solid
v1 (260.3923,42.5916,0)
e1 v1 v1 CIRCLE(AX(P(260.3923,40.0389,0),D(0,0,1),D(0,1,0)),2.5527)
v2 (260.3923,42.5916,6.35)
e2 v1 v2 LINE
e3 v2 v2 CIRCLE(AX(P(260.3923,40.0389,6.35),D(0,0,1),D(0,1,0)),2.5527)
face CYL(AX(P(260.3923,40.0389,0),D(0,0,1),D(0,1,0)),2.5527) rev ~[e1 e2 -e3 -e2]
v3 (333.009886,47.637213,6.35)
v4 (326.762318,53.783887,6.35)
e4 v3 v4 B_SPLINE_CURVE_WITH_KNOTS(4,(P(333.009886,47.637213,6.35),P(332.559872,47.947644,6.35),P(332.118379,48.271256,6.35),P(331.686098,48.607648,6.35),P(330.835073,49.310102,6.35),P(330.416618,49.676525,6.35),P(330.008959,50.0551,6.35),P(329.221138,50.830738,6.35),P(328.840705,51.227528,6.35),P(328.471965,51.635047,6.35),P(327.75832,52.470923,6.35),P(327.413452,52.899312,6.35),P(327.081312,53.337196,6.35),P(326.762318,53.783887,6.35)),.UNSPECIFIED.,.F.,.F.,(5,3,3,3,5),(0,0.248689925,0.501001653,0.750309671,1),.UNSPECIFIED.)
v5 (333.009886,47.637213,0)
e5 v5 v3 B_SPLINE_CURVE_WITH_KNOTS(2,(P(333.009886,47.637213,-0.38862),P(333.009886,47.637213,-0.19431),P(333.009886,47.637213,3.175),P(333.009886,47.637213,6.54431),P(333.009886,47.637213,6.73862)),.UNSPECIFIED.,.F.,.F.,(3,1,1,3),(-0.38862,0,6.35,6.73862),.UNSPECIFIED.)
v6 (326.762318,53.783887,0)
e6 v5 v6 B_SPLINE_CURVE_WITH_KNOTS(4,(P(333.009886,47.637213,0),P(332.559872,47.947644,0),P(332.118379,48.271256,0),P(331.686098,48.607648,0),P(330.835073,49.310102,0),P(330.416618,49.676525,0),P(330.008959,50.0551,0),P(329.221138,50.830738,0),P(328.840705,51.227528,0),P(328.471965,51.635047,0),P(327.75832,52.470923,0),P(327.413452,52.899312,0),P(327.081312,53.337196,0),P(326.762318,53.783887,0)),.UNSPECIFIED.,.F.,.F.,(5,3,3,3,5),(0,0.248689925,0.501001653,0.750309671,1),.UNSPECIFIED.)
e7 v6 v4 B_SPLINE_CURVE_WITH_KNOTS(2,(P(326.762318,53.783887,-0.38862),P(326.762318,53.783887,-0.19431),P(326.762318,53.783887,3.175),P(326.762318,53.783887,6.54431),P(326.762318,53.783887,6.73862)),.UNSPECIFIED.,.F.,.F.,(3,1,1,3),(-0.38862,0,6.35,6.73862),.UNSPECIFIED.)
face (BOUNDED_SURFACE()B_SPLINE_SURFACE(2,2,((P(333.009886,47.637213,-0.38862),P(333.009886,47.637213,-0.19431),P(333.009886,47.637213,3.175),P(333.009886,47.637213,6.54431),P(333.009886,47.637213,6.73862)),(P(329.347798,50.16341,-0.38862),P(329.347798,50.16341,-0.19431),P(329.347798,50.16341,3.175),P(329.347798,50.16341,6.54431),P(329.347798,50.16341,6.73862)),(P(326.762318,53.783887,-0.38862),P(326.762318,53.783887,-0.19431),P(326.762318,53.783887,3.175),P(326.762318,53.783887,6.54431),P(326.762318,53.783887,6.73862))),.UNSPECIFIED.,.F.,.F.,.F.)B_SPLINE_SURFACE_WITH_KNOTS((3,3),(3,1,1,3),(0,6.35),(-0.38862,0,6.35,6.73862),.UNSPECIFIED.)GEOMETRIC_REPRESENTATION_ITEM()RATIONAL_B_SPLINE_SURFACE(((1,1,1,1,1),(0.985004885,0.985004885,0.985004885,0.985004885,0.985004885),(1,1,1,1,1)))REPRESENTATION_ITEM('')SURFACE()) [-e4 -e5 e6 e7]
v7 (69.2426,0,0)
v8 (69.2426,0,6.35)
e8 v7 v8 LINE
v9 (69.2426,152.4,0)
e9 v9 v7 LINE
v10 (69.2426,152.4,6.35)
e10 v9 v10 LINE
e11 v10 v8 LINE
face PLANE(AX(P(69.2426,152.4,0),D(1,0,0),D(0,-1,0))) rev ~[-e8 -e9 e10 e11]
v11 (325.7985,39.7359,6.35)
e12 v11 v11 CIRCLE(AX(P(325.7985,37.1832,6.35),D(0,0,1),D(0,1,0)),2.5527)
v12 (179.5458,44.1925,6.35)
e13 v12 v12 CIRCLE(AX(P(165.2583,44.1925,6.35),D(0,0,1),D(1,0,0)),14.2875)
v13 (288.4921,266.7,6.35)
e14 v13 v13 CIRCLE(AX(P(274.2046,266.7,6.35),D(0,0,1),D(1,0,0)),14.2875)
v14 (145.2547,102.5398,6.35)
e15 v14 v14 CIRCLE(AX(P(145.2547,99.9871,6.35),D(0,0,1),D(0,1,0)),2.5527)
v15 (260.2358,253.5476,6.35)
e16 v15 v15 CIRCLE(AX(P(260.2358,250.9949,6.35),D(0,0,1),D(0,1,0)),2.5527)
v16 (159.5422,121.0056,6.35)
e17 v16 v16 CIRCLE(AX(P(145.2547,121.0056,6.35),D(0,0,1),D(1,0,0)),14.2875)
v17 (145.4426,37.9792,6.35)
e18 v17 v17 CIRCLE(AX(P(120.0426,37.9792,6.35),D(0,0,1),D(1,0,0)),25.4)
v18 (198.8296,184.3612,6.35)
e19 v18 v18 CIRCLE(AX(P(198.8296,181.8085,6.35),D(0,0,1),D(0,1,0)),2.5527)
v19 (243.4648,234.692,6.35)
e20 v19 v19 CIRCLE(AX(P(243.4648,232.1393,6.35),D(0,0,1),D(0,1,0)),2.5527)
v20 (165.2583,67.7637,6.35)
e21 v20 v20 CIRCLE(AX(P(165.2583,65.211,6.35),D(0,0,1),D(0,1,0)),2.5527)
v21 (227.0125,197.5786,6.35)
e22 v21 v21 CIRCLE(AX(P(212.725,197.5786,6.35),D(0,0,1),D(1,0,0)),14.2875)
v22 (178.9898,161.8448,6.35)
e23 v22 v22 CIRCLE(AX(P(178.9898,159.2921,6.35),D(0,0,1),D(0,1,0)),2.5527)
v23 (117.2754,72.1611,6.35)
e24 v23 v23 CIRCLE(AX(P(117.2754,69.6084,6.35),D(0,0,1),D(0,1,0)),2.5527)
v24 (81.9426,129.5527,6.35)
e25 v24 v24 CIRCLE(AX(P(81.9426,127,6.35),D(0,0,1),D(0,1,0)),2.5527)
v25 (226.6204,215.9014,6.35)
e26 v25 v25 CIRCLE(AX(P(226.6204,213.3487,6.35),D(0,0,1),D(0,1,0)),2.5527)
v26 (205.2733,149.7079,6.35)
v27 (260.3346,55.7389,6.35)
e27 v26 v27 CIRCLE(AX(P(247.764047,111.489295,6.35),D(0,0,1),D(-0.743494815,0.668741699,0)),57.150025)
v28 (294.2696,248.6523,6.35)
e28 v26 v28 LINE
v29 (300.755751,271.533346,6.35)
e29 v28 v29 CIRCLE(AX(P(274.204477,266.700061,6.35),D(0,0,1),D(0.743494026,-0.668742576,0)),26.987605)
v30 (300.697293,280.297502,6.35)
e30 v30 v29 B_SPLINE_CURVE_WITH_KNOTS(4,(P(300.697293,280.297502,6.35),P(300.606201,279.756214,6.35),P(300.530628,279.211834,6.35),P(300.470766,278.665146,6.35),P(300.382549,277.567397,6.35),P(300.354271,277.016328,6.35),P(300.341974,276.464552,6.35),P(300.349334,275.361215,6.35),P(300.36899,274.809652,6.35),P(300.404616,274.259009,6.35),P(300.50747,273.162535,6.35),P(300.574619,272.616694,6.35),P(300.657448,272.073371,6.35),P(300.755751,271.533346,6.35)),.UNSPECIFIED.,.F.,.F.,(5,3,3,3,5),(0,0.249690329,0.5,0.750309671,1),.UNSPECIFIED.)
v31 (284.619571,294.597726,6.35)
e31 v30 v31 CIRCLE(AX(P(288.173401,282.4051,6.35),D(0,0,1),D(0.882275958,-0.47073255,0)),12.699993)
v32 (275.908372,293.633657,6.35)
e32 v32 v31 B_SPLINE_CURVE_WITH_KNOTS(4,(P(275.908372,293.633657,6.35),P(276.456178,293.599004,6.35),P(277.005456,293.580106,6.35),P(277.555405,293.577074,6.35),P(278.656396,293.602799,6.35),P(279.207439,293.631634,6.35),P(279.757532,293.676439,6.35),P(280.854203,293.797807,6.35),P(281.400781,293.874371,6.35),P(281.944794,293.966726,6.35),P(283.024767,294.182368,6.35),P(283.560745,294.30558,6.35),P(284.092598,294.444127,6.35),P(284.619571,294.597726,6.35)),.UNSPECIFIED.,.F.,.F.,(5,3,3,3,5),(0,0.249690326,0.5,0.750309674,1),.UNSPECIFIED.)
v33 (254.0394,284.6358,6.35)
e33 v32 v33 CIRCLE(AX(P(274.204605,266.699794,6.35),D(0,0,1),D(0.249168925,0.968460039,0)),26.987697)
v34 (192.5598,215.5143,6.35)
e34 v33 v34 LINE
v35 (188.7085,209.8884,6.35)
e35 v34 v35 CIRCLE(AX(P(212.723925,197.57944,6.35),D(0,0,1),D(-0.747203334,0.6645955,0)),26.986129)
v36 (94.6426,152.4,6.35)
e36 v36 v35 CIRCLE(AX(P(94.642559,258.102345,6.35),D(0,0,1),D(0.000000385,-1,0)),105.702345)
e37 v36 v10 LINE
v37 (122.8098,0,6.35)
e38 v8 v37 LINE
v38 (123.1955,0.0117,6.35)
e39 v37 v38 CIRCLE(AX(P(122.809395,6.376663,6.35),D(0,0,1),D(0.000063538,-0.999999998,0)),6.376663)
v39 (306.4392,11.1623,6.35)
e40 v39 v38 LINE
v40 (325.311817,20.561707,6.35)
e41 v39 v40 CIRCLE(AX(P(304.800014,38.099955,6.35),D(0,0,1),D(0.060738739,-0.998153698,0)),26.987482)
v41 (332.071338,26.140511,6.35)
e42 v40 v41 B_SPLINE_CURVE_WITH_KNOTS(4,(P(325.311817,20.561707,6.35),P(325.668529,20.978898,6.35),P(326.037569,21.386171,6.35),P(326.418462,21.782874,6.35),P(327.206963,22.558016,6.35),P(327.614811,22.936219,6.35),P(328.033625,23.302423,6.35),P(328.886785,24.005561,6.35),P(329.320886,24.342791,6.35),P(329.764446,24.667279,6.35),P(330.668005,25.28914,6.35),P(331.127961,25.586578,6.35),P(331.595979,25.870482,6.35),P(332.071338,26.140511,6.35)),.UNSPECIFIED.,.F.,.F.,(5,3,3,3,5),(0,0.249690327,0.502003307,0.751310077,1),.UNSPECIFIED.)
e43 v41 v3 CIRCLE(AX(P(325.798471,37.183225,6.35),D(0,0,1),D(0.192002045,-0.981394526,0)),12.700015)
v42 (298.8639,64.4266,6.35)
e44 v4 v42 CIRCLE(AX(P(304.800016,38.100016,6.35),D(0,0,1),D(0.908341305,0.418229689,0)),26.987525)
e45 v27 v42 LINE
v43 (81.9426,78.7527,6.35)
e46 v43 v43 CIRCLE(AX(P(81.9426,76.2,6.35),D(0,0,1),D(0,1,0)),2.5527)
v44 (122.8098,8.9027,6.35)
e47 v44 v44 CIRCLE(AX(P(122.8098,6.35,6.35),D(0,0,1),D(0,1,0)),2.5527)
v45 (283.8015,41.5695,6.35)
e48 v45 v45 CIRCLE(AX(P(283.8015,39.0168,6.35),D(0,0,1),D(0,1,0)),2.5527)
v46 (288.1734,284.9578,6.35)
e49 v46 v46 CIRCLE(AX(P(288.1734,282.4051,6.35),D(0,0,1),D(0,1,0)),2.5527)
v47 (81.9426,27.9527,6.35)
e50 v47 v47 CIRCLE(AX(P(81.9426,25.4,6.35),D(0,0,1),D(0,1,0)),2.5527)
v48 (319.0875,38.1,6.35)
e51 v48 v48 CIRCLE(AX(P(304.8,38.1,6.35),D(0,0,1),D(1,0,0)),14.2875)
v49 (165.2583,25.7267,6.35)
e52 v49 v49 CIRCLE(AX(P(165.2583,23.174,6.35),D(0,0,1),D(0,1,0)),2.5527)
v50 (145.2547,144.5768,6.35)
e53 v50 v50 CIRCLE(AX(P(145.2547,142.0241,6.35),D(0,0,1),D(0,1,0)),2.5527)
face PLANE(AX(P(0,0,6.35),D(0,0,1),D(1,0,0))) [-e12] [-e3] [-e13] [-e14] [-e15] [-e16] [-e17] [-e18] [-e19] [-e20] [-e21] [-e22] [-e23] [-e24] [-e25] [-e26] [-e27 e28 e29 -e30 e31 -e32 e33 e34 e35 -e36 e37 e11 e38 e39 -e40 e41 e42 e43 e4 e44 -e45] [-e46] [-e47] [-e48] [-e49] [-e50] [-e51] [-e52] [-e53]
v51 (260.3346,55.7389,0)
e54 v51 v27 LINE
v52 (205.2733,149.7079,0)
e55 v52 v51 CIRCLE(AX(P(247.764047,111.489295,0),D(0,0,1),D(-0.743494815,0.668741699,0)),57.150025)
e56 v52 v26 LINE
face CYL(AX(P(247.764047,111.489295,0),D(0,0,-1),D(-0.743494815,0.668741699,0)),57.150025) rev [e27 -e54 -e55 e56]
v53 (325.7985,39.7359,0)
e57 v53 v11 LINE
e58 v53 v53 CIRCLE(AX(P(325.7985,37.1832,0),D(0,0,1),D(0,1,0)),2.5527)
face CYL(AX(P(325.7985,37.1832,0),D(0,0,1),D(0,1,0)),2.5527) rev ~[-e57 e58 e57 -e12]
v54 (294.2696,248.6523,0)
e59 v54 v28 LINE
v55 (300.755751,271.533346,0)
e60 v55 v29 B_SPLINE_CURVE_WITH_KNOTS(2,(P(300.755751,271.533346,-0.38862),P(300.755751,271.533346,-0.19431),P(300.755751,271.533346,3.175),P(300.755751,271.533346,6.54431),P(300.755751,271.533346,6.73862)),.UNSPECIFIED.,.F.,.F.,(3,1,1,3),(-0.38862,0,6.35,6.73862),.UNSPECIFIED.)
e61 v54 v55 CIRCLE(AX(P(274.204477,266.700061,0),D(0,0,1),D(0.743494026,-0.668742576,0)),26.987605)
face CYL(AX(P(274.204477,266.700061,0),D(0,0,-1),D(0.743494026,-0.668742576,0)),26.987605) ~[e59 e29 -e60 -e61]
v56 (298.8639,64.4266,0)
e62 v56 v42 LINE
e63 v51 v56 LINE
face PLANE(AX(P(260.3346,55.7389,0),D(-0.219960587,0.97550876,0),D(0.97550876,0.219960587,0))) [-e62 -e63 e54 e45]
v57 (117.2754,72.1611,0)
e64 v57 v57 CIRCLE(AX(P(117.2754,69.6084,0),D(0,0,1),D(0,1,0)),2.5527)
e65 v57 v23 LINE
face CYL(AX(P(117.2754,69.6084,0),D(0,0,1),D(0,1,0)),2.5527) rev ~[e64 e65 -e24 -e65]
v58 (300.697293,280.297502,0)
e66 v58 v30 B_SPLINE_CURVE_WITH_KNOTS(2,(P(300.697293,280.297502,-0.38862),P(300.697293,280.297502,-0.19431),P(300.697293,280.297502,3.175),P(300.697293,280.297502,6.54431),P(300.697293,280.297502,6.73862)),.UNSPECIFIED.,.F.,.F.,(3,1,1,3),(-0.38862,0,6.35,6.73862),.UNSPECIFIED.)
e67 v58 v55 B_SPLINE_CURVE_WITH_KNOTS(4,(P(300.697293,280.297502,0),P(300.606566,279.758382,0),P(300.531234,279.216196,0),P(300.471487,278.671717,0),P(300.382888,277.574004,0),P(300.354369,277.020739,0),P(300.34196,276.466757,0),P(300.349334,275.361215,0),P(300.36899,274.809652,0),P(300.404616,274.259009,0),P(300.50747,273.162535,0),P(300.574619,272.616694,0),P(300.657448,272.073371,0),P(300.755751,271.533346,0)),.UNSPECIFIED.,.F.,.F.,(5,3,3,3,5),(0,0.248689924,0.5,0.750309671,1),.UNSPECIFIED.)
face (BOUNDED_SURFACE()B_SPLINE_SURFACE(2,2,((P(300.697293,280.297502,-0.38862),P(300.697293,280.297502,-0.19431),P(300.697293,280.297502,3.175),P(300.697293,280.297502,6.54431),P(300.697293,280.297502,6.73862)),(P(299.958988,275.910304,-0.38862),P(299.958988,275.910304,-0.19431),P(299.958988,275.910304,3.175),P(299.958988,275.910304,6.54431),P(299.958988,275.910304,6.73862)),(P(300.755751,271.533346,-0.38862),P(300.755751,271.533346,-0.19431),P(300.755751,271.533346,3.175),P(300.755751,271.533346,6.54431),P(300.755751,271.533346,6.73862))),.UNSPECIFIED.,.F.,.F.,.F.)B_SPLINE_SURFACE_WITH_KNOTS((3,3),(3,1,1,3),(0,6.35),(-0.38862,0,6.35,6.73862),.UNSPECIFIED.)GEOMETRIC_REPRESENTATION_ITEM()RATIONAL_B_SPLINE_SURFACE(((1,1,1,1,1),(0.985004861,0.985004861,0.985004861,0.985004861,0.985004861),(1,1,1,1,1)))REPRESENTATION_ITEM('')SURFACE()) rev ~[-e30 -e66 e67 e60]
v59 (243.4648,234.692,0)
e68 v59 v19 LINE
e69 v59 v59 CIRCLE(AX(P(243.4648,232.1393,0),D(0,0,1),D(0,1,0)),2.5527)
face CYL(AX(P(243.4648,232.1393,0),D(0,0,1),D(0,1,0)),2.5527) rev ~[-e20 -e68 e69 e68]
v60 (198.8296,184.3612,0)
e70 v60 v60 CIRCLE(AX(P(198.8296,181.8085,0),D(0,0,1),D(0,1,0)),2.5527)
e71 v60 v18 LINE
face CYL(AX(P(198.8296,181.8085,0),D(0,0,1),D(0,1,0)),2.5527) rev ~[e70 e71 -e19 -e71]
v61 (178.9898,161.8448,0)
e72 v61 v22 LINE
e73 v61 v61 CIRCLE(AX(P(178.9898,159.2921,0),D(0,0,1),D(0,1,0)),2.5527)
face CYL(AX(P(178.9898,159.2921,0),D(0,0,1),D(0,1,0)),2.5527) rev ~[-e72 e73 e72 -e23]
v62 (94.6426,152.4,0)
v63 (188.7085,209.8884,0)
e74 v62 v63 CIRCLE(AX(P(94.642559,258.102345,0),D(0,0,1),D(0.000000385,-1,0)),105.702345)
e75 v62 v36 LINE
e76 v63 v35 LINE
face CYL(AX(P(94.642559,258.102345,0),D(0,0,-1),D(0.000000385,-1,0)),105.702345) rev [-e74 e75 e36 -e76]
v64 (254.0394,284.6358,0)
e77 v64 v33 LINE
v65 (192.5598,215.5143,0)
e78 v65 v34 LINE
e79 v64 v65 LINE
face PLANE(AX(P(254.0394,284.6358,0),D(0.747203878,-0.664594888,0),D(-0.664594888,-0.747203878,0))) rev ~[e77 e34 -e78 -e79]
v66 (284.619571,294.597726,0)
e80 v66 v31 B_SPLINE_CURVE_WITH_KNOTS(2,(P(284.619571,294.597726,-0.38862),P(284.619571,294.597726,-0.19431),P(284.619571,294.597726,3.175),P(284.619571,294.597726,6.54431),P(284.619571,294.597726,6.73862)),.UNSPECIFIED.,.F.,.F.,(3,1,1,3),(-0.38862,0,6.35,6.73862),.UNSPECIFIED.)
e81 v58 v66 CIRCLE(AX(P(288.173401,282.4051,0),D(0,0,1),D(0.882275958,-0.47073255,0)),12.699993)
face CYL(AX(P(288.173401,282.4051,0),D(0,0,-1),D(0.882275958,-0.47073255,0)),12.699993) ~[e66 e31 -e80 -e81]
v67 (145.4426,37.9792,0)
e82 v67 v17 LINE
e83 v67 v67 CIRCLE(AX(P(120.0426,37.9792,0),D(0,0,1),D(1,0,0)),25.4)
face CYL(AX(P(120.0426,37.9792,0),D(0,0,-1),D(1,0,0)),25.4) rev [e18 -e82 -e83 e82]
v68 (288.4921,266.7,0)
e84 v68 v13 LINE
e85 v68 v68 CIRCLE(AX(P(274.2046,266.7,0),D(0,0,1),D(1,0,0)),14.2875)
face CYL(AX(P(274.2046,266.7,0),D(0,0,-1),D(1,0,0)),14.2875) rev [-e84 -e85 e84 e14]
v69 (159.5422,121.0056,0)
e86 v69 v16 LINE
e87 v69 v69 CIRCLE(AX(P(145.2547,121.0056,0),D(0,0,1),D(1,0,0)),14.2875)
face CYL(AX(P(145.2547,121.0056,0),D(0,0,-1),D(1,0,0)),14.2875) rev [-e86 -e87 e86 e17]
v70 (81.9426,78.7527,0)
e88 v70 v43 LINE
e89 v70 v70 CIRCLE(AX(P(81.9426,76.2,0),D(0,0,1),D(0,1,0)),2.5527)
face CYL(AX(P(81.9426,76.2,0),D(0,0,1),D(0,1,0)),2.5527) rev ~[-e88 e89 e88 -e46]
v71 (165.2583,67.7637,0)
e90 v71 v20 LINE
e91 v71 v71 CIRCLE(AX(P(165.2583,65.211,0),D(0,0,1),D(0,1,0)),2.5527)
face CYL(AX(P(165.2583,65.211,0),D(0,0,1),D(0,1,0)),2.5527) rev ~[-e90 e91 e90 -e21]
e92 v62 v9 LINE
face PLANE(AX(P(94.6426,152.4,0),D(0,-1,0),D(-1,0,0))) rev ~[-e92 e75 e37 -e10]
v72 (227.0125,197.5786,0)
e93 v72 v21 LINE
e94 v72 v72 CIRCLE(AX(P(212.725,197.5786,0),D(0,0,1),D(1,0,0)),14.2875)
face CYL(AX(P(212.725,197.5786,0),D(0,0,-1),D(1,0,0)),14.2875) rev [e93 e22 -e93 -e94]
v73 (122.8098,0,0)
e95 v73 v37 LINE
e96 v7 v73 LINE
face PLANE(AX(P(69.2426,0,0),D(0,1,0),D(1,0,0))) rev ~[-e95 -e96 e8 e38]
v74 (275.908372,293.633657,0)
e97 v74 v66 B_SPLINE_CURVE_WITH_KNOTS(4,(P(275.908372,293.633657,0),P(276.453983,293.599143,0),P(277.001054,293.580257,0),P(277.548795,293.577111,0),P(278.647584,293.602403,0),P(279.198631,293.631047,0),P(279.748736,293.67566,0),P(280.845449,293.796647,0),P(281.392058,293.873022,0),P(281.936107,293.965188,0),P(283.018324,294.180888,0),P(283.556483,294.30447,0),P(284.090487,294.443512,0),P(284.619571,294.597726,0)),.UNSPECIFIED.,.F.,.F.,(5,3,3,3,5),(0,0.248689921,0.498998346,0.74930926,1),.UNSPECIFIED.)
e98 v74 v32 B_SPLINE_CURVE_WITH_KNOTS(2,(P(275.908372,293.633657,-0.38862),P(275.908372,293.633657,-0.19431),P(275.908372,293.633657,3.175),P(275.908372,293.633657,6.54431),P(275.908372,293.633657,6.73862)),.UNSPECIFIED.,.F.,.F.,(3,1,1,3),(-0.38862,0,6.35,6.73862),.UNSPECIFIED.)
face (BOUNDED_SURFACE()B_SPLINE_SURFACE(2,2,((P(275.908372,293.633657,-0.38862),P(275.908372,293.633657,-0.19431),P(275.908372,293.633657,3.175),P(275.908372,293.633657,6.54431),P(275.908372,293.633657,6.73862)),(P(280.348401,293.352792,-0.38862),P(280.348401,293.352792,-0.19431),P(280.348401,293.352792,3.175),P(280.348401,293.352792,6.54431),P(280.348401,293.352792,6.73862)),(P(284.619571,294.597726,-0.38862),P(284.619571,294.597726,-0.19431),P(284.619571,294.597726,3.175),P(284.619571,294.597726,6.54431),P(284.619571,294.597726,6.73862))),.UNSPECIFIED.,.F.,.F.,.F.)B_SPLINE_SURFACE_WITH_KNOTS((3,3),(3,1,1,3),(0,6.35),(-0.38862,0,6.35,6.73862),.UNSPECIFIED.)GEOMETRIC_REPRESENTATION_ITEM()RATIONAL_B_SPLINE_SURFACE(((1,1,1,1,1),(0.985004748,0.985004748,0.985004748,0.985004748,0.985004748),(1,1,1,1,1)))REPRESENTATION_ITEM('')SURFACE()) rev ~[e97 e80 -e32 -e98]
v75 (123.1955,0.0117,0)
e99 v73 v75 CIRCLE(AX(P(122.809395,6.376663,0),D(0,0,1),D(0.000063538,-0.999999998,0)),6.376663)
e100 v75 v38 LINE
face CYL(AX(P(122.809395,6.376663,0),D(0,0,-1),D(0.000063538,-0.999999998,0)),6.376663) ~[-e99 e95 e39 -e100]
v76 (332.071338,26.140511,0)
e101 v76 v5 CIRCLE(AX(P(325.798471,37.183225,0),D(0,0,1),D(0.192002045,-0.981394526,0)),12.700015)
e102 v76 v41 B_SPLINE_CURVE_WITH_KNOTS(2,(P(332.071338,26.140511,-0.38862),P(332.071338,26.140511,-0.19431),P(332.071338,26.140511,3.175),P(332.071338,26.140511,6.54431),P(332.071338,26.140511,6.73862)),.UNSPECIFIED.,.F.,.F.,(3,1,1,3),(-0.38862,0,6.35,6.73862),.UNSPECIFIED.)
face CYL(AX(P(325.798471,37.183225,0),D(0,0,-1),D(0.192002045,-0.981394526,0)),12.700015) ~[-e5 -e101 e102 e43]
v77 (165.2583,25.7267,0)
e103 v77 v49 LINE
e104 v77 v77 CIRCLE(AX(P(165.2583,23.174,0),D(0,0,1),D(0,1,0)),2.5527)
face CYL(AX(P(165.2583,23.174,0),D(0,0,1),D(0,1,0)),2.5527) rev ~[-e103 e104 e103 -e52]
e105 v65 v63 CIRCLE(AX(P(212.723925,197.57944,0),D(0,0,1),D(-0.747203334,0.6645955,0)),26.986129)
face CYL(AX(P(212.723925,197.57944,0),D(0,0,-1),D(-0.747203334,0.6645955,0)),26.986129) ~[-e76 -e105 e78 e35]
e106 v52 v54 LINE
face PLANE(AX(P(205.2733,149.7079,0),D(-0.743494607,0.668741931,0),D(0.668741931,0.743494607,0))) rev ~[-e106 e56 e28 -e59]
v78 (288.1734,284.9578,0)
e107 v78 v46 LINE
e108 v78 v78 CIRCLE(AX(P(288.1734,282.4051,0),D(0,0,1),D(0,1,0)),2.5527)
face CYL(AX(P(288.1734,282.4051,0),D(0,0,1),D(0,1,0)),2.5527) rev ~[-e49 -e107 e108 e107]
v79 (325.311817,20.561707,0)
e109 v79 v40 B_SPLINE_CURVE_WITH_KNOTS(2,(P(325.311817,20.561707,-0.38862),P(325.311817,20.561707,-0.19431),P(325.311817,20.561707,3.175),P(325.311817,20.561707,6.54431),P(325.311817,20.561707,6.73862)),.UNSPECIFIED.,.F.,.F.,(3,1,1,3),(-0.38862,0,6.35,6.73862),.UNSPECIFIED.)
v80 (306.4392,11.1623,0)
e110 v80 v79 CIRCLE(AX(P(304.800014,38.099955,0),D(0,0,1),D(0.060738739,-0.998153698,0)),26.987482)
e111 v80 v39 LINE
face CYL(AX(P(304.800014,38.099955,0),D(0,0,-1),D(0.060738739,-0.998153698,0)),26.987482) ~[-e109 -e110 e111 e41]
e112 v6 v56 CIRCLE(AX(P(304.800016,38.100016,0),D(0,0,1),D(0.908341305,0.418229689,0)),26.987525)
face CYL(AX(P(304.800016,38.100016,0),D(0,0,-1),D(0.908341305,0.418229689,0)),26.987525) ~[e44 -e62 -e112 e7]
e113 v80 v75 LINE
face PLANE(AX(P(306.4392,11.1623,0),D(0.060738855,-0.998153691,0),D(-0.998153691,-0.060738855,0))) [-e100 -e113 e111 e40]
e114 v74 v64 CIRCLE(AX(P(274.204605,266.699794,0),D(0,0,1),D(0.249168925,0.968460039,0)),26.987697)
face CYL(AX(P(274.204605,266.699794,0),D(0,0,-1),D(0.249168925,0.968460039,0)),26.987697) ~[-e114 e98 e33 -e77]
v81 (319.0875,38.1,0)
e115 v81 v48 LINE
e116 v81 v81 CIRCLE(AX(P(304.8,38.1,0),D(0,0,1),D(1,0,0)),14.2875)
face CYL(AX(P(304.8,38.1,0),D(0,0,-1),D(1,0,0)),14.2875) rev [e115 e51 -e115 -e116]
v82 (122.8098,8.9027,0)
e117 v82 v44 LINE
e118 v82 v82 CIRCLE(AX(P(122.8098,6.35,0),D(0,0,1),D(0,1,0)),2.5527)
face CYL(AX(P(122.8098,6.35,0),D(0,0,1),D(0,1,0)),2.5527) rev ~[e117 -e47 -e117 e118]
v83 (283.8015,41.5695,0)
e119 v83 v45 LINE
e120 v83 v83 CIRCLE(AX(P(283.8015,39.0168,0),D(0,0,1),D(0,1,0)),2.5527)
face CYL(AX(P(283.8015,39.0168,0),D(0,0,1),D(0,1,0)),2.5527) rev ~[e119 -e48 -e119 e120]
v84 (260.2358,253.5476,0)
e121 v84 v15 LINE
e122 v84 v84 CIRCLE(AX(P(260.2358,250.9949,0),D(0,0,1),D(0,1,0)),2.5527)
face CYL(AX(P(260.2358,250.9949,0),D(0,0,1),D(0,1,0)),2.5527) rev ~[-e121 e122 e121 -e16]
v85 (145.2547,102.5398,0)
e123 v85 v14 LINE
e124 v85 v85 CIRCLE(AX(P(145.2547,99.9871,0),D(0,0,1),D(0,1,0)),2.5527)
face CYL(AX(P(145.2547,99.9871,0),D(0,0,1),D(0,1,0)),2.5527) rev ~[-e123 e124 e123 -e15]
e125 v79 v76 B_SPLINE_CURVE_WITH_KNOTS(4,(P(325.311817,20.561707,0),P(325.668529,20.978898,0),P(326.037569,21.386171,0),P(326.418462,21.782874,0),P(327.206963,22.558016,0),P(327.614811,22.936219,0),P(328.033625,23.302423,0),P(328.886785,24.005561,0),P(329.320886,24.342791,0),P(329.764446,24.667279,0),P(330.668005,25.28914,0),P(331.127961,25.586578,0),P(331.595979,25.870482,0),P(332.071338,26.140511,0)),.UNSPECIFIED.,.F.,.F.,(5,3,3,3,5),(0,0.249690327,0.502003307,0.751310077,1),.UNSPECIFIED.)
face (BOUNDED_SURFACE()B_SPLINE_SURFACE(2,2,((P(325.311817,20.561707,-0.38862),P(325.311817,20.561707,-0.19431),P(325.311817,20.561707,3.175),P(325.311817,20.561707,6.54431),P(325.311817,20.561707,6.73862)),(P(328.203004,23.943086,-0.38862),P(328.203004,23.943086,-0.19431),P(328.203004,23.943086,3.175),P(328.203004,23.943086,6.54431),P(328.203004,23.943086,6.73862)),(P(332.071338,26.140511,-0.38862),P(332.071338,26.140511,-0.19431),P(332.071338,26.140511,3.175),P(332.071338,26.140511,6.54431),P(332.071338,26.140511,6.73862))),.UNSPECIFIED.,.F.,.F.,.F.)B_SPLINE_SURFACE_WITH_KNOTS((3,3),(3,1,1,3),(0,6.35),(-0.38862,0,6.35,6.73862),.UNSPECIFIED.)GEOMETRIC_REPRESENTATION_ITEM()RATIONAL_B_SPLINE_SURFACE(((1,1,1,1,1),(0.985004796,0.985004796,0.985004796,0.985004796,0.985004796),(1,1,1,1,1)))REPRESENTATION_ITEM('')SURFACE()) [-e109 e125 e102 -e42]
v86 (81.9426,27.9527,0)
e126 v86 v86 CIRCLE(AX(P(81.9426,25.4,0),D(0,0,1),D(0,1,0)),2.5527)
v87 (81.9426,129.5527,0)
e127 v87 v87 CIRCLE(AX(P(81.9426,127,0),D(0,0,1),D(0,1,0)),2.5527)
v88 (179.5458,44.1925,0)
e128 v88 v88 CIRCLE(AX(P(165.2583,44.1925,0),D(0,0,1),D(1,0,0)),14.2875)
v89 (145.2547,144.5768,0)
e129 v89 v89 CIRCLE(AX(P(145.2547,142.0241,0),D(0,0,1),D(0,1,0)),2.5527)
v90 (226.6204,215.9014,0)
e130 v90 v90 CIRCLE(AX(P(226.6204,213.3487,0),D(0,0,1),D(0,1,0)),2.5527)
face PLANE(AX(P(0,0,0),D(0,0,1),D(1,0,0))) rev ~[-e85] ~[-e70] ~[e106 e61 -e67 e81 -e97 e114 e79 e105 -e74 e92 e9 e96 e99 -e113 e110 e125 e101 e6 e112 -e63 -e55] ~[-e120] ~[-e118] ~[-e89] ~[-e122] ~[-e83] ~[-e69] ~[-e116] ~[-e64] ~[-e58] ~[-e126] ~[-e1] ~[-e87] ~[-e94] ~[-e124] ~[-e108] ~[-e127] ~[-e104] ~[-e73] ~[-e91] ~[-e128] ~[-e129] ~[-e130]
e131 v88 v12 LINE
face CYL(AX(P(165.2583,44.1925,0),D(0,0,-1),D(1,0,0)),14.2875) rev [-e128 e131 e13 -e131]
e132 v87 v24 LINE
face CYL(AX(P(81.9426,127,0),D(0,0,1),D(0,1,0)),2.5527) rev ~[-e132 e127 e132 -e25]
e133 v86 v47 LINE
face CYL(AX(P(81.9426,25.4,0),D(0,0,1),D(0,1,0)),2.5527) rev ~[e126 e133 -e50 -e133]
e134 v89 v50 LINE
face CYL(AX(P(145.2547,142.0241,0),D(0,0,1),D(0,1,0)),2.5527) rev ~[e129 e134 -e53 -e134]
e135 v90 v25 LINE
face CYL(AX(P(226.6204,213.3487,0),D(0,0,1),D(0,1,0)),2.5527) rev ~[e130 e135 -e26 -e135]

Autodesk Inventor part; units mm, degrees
ref_plane "YZ Plane" through (0, 0, 0) normal (1, 0, 0) x (0, 1, 0)
ref_plane "XZ Plane" through (0, 0, 0) normal (0, 1, 0) x (-1, 0, 0)
ref_plane "XY Plane" through (0, 0, 0) normal (0, 0, 1) x (1, 0, 0)
sketch "Sketch1" plane through (0, 0, 0) normal (0, 0, 1) x (1, 0, 0)
  line L0 (0, 0) -> (704.681, 0) construction
  line L1 (704.681, 0) -> (704.681, 101.6) construction
  line L2 (704.681, 101.6) -> (0, 101.6) construction
  circle A0 centre (304.8, 38.1) radius 38.1 construction
  circle A1 centre (212.725, 197.5786) radius 38.1 construction
  circle A2 centre (274.2046, 266.7) radius 38.1 construction
  circle A3 centre (499.5893, 180.5177) radius 203.2 construction
  line L3 (78.3329, 304.8) -> (550.894, 304.8) construction
  circle A4 centre (247.764, 111.4893) radius 57.15 construction
  circle A5 centre (258.7625, 117.8393) radius 53.975 construction
  line L4 (212.725, 197.5786) -> (304.8, 38.1) construction
  line L5 (258.7625, 117.8393) -> (247.764, 111.4893) construction
  line L6 (274.2046, 266.7) -> (212.725, 197.5786) construction
  dimension "d0" = 101.6
  dimension "d2" = 76.2
  dimension "d3" = 76.2
  dimension "d4" = 76.2
  dimension "d8" = 406.4
  dimension "d9" = 304.8
  dimension "d11" = 304.8
  dimension "d13" = 114.3
  dimension "d14" = 107.95
  dimension "d15" = 12.7
  dimension "d16" = 92.5068
  dimension "d17" = 60
sketch "Sketch4" plane through (0, 0, 0) normal (0, 0, 1) x (1, 0, 0)
  circle A0 centre (274.2046, 266.7) radius 38.1 construction
  circle A1 centre (212.725, 197.5786) radius 38.1 construction
  circle A2 centre (247.764, 111.4893) radius 57.15 construction
  circle A3 centre (304.8, 38.1) radius 38.1 construction
  circle A4 centre (274.2046, 266.7) radius 14.2875
  circle A5 centre (212.725, 197.5786) radius 14.2875
  circle A6 centre (304.8, 38.1) radius 14.2875
  circle A7 centre (145.2547, 121.0056) radius 39.6875 construction
  circle A8 centre (165.2583, 44.1925) radius 39.6875 construction
  circle A9 centre (145.2547, 121.0056) radius 14.2875
  circle A10 centre (165.2583, 44.1925) radius 14.2875
  line L0 (304.8, 38.1) -> (165.2583, 44.1925) construction
  line L1 (145.2547, 121.0056) -> (212.725, 197.5786) construction
  circle A11 centre (165.2583, 44.1925) radius 23.876 construction
  circle A12 centre (145.2547, 121.0056) radius 23.876 construction
  line L2 (128.9029, 138.4033) -> (202.94, 207.9895) construction
  line L3 (164.5725, 106.974) -> (224.2849, 189.182) construction
  line L4 (165.8568, 20.324) -> (305.1581, 23.817) construction
  line L5 (306.4016, 52.2974) -> (167.9348, 67.918) construction
  circle A13 centre (120.0426, 37.9792) radius 5.9531 construction
  circle A14 centre (120.0426, 37.9792) radius 25.4
  circle A15 centre (117.2754, 69.6084) radius 6.35 construction
  circle A16 centre (122.8098, 6.35) radius 6.35 construction
  line L6 (117.2754, 69.6084) -> (122.8098, 6.35) construction
  line L7 (0, 0) -> (304.8, 0) construction
  line L8 (69.2426, 0) -> (94.6426, 0) construction
  line L9 (94.6426, 0) -> (94.6426, 152.4) construction
  line L10 (94.6426, 152.4) -> (69.2426, 152.4)
  line L11 (69.2426, 152.4) -> (69.2426, 0)
  line L12 (81.9426, 127) -> (81.9426, 25.4) construction
  line L13 (283.8015, 39.0168) -> (325.7985, 37.1832) construction
  line L14 (260.2358, 250.9949) -> (288.1734, 282.4051) construction
  line L15 (145.2547, 99.9871) -> (145.2547, 142.0241) construction
  line L16 (165.2583, 23.174) -> (165.2583, 65.211) construction
  line L17 (226.6204, 213.3487) -> (198.8296, 181.8085) construction
  circle A17 centre (304.8, 38.1) radius 26.9875 construction
  circle A18 centre (325.7985, 37.1832) radius 12.7 construction
  circle A19 centre (288.1734, 282.4051) radius 12.7 construction
  line L18 (274.2046, 266.7) -> (212.725, 197.5786) construction
  circle A20 centre (274.2046, 266.7) radius 26.9875 construction
  circle A21 centre (212.725, 197.5786) radius 26.9875 construction
  arc A22 (94.6426, 152.4) -> (188.7085, 209.8884) centre (94.6426, 258.1022) ccw
  line L19 (254.0394, 284.6358) -> (192.5598, 215.5143)
  arc A23 (280.9291, 292.8363) -> (254.0394, 284.6358) centre (274.2046, 266.7) ccw
  arc A24 (299.3783, 276.4268) -> (280.9291, 292.8363) centre (288.1734, 282.4051) ccw
  line L20 (205.2733, 149.7079) -> (294.2696, 248.6523)
  arc A25 (205.2733, 149.7079) -> (260.3346, 55.7389) centre (247.764, 111.4893) ccw
  line L21 (260.3346, 55.7389) -> (298.8639, 64.4266)
  arc A26 (294.2696, 248.6523) -> (299.3783, 276.4268) centre (274.2046, 266.7) ccw
  arc A27 (192.5598, 215.5143) -> (188.7085, 209.8884) centre (212.725, 197.5786) ccw
  arc A28 (329.3139, 49.387) -> (298.8639, 64.4266) centre (304.8, 38.1) ccw
  arc A29 (328.2369, 24.7195) -> (329.3139, 49.387) centre (325.7985, 37.1832) ccw
  line L22 (306.4392, 11.1623) -> (123.1955, 0.0117)
  line L23 (69.2426, 0) -> (122.8098, 0)
  arc A30 (122.8098, 0) -> (123.1955, 0.0117) centre (122.8098, 6.35) ccw
  arc A31 (306.4392, 11.1623) -> (328.2369, 24.7195) centre (304.8, 38.1) ccw
  circle A32 centre (120.0426, 37.9792) radius 9.525 construction
  circle A33 centre (120.0426, 37.9792) radius 17.4625 construction
  circle A34 centre (260.3923, 40.0389) radius 6.35 construction
  point P0 (81.9426, 76.2)
  point P1 (94.6426, 76.2)
  point P2 (81.9426, 152.4)
  point P3 (243.4648, 232.1393)
  point P4 (118.5207, 55.3752)
  point P5 (178.9898, 159.2921)
  point P6 (104.2162, 45.3592)
  point P7 (105.7382, 27.9631)
  point P8 (121.5646, 20.5831)
  point P9 (135.869, 30.5992)
  point P10 (134.3471, 47.9953)
  dimension "d81" = 34.925
  dimension "d63" = 28.575
  dimension "d64" = 79.375
  dimension "d65" = 47.752
  dimension "d66" = 139.6746
  dimension "d67" = 102.0572
  dimension "d68" = 11.9062
  dimension "d69" = 50.8
  dimension "d70" = 12.7
  dimension "d71" = 2.5
  dimension "d72" = 85
  dimension "d73" = 25.4
  dimension "d74" = 152.4
  dimension "d75" = 101.6
  dimension "d76" = 42.037
  dimension "d77" = 12.7
  dimension "d79" = 25.4
  dimension "d80" = 19.05
  dimension "d92" = 12.7
  dimension "d95" = 360
extrude "Extrusion2" add sketch "Sketch4" along normal blind 6.35
hole "Hole2" at (117.2754, 69.6084, 0) at (122.8098, 6.35, 0) at (81.9426, 127, 0) at (81.9426, 76.2, 0) at (81.9426, 25.4, 0) at (283.8015, 39.0168, 0) at (325.7985, 37.1832, 0) at (260.2358, 250.9949, 0) at (288.1734, 282.4051, 0) at (145.2547, 142.0241, 0) at (145.2547, 99.9871, 0) at (165.2583, 65.211, 0) at (165.2583, 23.174, 0) at (198.8296, 181.8085, 0) at (226.6204, 213.3487, 0) at (243.4648, 232.1393, 0) at (118.5207, 55.3752, 0) at (260.3923, 40.0389, 0) at (178.9898, 159.2921, 0) at (134.3471, 47.9953, 0) at (135.869, 30.5992, 0) at (121.5646, 20.5831, 0) at (105.7382, 27.9631, 0) at (104.2162, 45.3592, 0) direction (0, 0, 1) diameter 5.1054 end through all clearance for "Flat Head Machine Screw (82)" size "#10" standard "Ansi Unified Screw Threads"
fillet "Fillet2" radius 25.4 4 edges at (299.3783, 276.4268, 3.175) (280.9291, 292.8363, 3.175) (329.3139, 49.387, 3.175) (328.2369, 24.7195, 3.175)
properties part number "GP8-002" material "Polycarbonate, Smoke"
